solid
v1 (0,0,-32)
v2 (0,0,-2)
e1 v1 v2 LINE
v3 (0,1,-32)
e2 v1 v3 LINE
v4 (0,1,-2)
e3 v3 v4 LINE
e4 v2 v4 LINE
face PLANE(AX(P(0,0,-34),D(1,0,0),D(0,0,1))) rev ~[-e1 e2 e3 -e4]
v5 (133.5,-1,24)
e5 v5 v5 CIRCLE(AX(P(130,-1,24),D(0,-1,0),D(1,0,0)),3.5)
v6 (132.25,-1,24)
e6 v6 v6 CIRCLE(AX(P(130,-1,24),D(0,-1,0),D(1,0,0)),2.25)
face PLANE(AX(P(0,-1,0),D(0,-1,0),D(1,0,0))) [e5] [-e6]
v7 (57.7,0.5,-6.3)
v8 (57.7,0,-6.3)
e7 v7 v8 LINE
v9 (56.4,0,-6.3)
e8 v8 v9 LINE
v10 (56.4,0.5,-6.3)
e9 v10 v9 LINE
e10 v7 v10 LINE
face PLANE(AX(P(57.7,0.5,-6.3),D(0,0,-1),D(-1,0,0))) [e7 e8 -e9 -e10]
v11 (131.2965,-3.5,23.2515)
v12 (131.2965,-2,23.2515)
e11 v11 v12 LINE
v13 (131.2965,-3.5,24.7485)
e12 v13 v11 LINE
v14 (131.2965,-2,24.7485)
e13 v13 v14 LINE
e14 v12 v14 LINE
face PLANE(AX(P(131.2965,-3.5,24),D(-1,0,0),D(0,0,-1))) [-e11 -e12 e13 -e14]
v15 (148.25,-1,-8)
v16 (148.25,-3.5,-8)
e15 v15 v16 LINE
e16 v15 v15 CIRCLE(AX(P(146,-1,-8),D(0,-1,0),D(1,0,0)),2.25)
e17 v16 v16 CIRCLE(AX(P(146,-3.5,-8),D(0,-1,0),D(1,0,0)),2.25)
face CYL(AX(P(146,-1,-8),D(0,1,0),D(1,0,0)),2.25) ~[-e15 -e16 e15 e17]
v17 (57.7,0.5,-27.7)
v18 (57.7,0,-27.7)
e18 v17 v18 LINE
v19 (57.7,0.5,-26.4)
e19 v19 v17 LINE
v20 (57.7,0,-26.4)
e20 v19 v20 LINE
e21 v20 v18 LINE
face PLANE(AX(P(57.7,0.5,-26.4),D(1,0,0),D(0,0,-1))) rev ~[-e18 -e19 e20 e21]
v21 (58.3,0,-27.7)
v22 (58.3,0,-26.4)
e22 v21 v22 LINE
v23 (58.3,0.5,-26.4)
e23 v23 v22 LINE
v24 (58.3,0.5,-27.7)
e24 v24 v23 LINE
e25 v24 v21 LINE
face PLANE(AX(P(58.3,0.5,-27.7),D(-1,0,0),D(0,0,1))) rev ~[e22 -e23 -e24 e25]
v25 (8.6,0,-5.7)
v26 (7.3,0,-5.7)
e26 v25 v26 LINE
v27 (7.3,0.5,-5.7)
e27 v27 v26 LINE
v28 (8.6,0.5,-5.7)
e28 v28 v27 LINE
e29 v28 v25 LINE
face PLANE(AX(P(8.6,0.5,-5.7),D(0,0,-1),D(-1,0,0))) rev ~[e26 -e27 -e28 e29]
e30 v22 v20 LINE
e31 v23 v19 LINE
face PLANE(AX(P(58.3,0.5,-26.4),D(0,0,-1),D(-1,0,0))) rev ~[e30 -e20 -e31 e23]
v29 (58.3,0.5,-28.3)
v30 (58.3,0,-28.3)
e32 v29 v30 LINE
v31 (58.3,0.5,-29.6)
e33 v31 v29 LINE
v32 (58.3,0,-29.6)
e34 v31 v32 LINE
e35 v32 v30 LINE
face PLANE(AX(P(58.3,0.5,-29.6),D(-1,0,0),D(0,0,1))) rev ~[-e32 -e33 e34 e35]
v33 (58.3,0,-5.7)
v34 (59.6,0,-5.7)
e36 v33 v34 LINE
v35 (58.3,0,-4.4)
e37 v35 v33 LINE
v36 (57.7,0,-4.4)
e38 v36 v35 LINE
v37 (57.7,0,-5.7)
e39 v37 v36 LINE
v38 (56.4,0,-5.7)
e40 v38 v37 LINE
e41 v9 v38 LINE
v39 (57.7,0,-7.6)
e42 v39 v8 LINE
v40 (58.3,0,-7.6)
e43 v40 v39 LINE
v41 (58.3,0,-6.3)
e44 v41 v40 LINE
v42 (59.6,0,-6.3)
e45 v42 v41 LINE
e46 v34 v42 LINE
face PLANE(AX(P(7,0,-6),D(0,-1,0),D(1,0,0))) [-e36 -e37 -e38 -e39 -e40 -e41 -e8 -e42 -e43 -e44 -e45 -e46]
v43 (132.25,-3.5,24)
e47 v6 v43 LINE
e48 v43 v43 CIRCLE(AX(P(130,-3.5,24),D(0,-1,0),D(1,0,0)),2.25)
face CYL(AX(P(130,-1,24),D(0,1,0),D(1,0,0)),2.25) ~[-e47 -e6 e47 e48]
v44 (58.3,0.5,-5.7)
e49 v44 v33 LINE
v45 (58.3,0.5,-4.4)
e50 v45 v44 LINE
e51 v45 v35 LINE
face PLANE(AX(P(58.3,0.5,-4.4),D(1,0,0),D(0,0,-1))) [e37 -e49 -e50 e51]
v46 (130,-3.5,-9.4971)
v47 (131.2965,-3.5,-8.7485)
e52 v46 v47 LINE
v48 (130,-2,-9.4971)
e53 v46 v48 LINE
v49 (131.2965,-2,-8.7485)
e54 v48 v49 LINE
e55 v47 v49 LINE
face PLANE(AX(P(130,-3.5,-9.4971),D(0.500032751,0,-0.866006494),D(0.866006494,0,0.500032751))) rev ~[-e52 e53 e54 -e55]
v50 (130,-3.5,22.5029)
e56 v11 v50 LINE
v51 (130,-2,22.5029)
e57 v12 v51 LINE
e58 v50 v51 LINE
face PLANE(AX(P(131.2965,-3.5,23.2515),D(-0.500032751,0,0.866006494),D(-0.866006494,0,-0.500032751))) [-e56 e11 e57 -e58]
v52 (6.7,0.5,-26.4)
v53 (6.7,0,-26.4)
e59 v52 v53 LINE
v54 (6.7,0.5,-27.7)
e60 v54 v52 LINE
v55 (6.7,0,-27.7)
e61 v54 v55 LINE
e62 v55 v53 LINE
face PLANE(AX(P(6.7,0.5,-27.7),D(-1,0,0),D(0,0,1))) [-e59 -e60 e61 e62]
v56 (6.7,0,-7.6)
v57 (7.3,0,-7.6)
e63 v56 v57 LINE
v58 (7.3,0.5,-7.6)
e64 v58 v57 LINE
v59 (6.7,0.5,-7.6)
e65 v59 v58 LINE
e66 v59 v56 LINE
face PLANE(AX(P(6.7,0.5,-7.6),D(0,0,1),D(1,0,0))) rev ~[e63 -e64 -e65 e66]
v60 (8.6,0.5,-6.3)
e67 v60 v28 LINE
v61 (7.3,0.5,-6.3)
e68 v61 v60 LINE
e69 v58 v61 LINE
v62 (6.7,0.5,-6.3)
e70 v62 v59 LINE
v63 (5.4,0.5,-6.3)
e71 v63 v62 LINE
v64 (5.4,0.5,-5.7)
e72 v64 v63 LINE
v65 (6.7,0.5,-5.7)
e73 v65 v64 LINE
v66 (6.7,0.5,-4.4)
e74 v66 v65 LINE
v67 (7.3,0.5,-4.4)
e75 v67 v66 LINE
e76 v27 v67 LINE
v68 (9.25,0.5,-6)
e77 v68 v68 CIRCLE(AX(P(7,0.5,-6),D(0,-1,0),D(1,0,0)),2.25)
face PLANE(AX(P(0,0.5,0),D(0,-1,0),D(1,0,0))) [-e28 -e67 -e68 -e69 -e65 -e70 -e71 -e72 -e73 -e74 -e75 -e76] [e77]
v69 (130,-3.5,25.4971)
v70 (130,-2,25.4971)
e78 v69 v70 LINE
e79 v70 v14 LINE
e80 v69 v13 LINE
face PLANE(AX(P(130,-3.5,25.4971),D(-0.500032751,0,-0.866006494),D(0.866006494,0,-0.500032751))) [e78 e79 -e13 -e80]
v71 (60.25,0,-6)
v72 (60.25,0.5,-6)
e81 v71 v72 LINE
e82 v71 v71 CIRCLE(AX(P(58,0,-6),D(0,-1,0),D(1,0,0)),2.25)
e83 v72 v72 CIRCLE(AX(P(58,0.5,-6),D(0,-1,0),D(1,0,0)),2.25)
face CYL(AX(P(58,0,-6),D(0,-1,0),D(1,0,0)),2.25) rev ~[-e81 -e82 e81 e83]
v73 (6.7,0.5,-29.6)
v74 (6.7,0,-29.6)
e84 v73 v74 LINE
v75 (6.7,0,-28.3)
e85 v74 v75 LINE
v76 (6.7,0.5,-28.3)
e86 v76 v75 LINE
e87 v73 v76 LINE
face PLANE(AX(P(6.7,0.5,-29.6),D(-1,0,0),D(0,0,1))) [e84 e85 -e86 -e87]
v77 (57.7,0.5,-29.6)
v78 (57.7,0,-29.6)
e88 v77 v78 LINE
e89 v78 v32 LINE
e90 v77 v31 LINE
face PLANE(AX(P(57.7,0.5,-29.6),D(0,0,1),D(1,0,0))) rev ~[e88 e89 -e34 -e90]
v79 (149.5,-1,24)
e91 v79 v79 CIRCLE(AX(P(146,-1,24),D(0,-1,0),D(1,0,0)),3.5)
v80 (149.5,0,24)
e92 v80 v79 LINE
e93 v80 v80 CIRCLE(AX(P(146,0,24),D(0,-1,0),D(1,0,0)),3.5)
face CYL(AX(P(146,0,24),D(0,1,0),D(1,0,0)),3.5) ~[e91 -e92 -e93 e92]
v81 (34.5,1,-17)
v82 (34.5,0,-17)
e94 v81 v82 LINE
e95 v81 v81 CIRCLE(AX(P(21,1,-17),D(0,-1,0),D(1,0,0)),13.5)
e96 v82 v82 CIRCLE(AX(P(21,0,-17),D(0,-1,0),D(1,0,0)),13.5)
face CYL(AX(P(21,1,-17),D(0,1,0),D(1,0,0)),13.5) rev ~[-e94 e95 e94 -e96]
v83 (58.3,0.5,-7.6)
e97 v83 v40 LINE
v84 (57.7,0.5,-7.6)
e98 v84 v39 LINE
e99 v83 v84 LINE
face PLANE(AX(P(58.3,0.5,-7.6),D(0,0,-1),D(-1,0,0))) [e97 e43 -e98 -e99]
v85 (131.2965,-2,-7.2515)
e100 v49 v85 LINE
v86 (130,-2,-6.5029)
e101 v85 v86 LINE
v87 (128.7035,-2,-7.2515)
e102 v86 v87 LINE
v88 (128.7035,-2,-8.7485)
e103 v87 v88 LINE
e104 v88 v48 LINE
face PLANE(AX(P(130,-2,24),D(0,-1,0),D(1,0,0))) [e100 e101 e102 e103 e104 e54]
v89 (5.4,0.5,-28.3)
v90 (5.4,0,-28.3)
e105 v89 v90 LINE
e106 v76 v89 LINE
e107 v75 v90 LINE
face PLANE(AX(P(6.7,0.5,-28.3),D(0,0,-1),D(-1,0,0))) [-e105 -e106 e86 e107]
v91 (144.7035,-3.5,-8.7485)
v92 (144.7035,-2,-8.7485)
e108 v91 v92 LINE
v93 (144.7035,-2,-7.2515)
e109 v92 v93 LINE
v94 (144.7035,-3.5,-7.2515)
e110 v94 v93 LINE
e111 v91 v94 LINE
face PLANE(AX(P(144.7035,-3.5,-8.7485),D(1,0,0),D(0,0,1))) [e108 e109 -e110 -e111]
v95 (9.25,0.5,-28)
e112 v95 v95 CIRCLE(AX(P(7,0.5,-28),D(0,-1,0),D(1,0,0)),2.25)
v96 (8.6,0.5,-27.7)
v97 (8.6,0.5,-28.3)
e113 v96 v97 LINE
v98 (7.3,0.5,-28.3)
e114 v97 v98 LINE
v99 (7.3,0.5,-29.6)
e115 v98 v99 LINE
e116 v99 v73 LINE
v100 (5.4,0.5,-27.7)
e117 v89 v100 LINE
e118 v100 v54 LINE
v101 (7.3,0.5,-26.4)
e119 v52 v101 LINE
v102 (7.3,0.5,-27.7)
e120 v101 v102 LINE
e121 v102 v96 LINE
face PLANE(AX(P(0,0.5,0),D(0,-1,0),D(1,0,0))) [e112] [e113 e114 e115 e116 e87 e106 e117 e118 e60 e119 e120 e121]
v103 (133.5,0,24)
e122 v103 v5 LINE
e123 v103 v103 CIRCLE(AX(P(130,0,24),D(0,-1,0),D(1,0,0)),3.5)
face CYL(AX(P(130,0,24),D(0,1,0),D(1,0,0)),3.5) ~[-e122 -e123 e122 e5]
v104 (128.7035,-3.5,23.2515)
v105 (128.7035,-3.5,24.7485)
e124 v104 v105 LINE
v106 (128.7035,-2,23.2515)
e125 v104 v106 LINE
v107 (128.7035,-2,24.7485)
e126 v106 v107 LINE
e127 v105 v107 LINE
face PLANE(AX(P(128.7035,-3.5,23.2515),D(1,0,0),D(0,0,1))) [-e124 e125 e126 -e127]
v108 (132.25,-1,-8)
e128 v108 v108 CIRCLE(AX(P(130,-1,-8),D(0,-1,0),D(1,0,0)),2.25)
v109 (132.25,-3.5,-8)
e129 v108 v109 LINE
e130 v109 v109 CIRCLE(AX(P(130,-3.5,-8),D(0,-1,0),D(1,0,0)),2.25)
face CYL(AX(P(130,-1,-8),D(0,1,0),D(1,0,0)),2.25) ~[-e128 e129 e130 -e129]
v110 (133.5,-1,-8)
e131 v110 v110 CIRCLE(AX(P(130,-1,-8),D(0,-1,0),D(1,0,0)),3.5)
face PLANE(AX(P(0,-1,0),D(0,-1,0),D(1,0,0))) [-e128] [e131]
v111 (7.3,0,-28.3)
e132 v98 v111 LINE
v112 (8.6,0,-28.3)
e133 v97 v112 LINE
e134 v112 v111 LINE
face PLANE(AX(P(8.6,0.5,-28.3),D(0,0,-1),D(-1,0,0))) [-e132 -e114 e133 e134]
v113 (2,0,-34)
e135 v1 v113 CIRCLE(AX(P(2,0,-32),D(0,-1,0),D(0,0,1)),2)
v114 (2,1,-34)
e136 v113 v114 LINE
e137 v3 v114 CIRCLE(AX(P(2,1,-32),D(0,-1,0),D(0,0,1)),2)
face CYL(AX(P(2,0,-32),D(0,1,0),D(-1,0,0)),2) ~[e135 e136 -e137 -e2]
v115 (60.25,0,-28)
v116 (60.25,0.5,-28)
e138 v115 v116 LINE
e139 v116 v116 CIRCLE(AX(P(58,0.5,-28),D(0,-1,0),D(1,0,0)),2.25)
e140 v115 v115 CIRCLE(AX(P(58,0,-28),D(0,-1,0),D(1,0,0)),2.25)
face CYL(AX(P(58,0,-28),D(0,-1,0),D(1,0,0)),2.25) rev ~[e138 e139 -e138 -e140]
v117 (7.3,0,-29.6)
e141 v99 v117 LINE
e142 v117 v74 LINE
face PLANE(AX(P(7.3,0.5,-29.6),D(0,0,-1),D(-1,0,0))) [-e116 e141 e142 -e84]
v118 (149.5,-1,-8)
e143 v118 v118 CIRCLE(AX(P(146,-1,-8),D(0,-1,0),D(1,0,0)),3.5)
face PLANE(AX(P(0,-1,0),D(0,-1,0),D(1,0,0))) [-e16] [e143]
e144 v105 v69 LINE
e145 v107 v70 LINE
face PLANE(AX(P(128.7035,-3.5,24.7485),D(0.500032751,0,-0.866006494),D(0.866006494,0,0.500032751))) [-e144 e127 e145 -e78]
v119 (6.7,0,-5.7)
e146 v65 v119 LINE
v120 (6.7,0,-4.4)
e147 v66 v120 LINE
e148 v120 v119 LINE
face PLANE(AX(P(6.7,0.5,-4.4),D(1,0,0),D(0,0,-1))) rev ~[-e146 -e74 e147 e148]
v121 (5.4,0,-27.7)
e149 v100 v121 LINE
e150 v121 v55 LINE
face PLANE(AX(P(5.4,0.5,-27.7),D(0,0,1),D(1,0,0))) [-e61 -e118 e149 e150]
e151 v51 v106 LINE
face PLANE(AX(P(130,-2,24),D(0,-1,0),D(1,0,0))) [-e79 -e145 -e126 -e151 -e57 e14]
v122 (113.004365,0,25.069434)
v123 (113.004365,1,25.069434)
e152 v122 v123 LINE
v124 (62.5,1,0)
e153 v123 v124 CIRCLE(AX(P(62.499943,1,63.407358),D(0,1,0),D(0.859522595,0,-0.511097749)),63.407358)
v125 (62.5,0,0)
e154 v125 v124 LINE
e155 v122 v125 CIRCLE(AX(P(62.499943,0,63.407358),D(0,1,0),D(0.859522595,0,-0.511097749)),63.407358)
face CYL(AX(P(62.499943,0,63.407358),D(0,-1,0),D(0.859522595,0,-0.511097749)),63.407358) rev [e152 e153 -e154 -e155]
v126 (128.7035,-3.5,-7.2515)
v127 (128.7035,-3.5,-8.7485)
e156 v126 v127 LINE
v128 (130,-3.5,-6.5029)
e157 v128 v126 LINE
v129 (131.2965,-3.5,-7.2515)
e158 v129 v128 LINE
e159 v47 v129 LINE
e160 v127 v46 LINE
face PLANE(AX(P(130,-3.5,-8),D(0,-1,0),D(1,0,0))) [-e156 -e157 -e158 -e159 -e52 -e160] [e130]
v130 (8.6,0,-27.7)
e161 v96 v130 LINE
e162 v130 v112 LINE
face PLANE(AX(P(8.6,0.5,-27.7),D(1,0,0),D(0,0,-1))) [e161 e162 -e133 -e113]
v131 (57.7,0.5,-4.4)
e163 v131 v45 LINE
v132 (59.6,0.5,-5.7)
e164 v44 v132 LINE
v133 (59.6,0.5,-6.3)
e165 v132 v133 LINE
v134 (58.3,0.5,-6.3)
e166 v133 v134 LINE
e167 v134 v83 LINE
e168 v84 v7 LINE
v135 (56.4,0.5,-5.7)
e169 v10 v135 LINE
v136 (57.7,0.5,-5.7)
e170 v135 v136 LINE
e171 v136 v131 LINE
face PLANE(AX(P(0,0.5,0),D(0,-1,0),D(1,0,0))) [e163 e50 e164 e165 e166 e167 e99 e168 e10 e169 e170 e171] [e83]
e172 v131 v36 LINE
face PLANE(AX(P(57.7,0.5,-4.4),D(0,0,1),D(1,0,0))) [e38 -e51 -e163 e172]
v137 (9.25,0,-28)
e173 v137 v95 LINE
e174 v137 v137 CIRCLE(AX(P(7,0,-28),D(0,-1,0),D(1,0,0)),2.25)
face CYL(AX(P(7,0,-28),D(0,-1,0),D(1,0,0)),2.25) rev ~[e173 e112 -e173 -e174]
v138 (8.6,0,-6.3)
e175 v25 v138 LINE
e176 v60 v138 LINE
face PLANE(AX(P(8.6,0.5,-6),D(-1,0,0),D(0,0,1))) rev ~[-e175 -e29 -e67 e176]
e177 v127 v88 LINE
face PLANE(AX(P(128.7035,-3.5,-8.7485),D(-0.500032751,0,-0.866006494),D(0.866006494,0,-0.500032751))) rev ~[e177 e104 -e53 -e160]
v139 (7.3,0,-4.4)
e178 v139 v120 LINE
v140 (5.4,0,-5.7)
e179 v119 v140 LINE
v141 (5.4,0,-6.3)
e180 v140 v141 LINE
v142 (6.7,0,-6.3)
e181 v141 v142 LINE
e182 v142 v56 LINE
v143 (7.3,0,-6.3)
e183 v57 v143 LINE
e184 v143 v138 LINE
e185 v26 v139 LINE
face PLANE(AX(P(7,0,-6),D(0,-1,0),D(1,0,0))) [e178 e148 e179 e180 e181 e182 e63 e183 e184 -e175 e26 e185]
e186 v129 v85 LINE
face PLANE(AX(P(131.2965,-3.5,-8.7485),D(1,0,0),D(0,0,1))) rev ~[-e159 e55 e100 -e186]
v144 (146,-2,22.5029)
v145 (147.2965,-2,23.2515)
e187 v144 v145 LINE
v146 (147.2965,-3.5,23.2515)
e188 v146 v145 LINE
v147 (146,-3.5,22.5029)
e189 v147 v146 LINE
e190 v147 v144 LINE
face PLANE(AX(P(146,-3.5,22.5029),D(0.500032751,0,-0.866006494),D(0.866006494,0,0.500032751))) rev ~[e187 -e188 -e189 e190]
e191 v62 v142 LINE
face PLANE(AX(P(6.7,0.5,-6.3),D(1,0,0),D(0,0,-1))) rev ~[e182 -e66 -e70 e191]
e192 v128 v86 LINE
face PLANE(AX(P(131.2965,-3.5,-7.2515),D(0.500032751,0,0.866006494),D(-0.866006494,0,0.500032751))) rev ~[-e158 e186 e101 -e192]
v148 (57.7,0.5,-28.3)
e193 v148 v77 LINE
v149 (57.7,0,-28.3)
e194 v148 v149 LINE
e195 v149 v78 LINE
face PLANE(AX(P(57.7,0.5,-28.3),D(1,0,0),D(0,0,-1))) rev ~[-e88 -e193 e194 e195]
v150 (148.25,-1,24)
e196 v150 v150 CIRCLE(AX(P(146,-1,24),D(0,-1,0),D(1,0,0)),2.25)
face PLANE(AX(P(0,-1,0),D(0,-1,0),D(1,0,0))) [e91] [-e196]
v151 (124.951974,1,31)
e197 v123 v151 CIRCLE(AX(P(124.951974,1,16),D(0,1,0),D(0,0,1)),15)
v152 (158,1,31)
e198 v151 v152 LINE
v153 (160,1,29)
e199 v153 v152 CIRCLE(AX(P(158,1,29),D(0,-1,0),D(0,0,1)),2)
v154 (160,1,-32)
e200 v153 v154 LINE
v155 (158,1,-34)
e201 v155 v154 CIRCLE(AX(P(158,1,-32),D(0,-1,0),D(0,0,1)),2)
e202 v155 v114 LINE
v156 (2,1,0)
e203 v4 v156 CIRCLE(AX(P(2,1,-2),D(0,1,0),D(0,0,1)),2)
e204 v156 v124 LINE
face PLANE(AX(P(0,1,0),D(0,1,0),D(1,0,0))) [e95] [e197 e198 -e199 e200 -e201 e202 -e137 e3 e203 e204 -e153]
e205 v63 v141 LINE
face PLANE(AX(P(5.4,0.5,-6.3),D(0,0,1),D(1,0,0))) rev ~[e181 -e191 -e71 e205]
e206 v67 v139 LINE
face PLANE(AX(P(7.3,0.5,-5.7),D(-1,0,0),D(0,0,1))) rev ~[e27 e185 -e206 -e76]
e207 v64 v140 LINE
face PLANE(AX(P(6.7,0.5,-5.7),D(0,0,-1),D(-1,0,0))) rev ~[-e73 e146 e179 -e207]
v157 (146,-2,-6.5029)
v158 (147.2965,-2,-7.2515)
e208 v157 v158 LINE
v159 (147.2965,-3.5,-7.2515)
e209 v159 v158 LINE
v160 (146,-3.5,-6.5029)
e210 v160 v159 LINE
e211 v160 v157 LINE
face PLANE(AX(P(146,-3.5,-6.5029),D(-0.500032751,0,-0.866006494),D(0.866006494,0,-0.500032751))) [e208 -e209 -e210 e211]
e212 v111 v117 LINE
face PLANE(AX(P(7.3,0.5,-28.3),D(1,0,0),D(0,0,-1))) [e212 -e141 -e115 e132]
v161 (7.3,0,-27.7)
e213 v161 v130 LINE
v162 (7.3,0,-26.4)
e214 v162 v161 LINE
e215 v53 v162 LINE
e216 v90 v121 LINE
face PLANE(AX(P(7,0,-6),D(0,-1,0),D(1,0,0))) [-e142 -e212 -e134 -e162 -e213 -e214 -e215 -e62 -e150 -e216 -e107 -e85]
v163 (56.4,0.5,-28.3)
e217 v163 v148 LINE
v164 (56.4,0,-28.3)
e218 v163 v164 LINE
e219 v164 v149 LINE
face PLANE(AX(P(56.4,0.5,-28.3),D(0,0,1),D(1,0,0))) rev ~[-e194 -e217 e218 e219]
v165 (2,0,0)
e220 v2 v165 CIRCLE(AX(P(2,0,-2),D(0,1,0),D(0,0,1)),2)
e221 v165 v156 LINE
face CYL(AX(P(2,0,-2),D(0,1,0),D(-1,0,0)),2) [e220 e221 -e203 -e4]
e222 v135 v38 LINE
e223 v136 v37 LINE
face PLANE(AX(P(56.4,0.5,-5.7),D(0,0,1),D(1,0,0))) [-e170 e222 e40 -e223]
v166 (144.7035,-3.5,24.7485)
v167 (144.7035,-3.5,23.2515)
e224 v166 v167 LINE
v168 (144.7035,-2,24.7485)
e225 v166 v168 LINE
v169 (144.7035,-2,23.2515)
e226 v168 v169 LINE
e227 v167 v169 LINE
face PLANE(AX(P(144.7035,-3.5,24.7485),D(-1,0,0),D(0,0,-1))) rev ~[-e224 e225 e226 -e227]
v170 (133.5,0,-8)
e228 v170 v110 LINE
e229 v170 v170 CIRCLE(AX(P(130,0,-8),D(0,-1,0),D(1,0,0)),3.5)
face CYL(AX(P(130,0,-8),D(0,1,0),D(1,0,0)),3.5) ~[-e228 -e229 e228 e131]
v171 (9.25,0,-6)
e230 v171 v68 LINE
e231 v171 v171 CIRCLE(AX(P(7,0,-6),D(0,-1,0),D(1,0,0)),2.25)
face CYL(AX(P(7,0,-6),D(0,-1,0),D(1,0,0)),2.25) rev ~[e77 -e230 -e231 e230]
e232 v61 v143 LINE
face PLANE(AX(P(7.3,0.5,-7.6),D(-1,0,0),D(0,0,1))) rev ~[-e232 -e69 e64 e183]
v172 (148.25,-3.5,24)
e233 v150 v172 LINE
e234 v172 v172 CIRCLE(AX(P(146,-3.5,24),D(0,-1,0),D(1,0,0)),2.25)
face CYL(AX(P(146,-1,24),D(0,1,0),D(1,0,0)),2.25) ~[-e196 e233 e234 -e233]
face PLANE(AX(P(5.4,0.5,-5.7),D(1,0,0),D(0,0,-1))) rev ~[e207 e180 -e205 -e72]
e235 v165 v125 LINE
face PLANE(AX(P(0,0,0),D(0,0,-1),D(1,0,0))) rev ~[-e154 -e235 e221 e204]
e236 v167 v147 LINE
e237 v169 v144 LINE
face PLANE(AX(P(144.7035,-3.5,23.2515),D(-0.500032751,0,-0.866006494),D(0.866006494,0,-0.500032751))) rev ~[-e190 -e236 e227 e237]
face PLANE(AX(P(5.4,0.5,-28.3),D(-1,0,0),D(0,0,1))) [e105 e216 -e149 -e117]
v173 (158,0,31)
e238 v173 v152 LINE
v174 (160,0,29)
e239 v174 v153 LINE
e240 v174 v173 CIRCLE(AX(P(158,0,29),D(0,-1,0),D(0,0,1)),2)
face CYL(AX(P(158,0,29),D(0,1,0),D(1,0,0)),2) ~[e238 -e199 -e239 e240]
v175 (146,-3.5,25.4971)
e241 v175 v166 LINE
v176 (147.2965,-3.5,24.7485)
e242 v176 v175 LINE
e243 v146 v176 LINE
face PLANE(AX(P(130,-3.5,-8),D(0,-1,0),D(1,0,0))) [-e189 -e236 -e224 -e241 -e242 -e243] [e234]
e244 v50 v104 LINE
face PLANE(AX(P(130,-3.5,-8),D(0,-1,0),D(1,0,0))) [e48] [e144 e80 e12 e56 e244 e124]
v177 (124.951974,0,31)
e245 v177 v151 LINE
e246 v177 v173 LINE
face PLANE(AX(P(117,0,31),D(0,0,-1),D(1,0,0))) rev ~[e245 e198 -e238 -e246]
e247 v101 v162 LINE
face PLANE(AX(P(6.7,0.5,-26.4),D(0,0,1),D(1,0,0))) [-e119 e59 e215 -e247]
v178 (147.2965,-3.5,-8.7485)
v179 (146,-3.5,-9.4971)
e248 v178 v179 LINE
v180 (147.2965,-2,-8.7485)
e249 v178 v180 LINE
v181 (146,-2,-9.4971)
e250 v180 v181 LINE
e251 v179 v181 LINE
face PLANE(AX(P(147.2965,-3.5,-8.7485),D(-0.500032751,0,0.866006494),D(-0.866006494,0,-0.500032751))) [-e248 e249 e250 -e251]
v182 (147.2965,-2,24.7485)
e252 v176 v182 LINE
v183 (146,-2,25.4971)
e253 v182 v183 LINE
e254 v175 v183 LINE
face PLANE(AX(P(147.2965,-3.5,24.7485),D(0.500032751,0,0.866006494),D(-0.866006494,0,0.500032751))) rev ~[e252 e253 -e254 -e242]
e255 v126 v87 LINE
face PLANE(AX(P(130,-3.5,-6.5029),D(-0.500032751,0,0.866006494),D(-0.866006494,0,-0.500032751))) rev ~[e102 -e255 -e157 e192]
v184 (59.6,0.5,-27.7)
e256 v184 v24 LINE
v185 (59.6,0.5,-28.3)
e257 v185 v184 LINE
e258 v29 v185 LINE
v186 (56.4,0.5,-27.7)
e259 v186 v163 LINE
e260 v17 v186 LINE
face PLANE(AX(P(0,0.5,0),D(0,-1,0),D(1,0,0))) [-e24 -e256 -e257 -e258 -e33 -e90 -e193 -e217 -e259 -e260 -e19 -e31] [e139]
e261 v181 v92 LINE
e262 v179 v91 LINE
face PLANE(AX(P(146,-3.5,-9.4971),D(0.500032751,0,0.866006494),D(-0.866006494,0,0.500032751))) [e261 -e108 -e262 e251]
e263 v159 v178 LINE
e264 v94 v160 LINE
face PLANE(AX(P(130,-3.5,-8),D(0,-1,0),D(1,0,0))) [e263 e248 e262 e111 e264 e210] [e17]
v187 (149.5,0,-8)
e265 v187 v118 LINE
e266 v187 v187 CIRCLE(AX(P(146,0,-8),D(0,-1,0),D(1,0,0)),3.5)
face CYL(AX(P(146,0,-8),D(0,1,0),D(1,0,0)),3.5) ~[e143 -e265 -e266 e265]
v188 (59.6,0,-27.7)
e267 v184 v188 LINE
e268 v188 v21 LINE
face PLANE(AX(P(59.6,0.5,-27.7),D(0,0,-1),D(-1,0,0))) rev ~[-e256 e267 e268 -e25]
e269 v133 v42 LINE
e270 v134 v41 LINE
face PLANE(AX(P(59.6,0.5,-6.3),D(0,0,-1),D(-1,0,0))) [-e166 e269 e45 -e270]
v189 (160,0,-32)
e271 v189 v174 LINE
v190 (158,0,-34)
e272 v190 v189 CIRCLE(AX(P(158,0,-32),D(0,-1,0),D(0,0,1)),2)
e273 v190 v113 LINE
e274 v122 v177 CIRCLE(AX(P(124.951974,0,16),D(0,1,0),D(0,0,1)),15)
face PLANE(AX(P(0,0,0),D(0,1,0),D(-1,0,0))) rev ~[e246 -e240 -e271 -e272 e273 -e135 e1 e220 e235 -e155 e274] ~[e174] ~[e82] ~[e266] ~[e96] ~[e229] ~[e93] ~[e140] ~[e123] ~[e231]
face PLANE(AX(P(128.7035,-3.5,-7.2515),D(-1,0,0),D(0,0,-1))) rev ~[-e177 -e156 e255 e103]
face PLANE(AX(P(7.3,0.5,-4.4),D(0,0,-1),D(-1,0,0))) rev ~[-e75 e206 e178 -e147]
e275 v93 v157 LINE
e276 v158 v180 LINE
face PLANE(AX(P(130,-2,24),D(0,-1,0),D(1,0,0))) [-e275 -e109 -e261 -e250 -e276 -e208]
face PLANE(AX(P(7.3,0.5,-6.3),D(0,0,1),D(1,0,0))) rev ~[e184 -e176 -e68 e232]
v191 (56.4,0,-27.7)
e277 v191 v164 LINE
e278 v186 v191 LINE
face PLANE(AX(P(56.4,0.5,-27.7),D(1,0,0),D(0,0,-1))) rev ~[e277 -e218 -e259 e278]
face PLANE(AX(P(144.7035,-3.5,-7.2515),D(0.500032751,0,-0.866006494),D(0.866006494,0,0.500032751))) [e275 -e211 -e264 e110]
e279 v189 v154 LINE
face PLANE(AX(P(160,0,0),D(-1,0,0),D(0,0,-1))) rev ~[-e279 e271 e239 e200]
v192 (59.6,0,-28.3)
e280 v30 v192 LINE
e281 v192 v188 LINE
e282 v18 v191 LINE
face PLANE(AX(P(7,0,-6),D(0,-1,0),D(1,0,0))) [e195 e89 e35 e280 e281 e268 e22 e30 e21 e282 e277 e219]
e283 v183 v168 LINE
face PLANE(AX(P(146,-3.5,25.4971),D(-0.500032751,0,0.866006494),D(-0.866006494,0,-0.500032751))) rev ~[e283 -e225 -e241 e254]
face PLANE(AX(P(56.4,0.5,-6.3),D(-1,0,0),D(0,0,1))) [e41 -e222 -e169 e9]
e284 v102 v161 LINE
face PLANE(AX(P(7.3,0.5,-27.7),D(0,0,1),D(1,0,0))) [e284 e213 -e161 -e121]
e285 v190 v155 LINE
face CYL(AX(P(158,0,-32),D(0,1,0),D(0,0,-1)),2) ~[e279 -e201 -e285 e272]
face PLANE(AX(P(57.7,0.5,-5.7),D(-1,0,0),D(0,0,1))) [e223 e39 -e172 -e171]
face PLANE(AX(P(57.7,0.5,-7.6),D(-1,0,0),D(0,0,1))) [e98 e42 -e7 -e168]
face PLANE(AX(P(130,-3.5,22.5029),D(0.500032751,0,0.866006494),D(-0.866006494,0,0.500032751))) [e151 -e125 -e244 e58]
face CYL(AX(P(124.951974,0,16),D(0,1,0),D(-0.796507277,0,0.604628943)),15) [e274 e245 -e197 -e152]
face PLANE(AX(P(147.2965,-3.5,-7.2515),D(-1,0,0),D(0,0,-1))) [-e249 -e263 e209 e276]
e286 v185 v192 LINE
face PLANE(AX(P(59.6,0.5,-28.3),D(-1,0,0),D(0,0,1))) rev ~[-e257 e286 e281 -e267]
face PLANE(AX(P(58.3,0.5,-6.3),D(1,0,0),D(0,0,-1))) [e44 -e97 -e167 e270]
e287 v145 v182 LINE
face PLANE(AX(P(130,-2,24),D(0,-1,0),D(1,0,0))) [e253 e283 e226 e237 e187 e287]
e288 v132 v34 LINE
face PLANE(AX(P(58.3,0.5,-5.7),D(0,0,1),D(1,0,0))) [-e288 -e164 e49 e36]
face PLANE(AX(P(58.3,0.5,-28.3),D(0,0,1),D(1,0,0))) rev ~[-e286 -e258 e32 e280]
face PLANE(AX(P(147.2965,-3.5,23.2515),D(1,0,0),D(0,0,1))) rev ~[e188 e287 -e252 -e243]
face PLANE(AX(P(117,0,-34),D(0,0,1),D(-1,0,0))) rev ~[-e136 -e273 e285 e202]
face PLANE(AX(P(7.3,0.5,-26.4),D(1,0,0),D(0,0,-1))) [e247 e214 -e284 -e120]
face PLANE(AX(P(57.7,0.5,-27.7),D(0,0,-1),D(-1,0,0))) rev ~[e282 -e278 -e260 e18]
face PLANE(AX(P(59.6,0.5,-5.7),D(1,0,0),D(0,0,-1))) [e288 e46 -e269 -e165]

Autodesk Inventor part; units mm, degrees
ref_plane "YZ Plane" through (0, 0, 0) normal (1, 0, 0) x (0, 1, 0)
ref_plane "XZ Plane" through (0, 0, 0) normal (0, 1, 0) x (-1, 0, 0)
ref_plane "XY Plane" through (0, 0, 0) normal (0, 0, 1) x (1, 0, 0)
sketch "Esboço1" plane through (0, 0, 0) normal (0, 1, 0) x (-1, 0, 0)
  line L0 (0, 0) -> (-160, 0)
  line L1 (-160, 0) -> (-160, -34)
  line L2 (-160, -34) -> (0, -34)
  line L3 (0, -34) -> (0, 0)
  line L4 (0, 0) -> (-4, 0)
  line L5 (-4, 0) -> (-62.5, 0)
  line L6 (-160, -34) -> (-160, 31)
  line L7 (-160, -34) -> (-117, -34)
  line L8 (-117, -34) -> (-117, 31)
  line L9 (-117, 31) -> (-160, 31)
  line L10 (-160, 31) -> (-160, -34)
  arc A0 (-117, 31) -> (-62.5, 0) centre (-62.5, 63.4073) ccw
  dimension "d0" = 160
  dimension "d1" = 34
  dimension "d2" = 4
  dimension "d3" = 58.5
  dimension "d4" = 65
  dimension "d5" = 43
extrude "Extrusão1" add sketch "Esboço1" along normal blind 1
fillet "Arredondamento1" radius 2 4 edges at (160, 0.5, 31) (160, 0.5, -34) (0, 0.5, 0) (0, 0.5, -34)
fillet "Arredondamento2" radius 15 1 edges at (117, 0.5, 31)
sketch "Esboço5" plane through (0, 1, 0) normal (0, 1, 0) x (1, 0, 0)
  line L0 (160, -29) -> (160, 32) projected
  line L1 (160, -21.1735) -> (160, -7.1735)
  line L2 (160, -21.1735) -> (146, -21.1735)
  line L3 (124.952, -31) -> (158, -31) projected
  line L4 (146, -31) -> (139, -31)
  line L5 (146, -31) -> (146, -24)
  circle A0 centre (146, -24) radius 3.5
  line L6 (146, -24) -> (130, -24)
  circle A1 centre (130, -24) radius 3.5
  line L7 (146, -24) -> (146, 8)
  circle A2 centre (146, 8) radius 3.5
  line L8 (146, 8) -> (130, 8)
  circle A3 centre (130, 8) radius 3.5
  point P0 (0, 0)
  dimension "d32" = 14
  dimension "d33" = 14
  dimension "d34" = 7
  dimension "d35" = 7
  dimension "d36" = 7
  dimension "d37" = 16
  dimension "d38" = 7
  dimension "d39" = 32
  dimension "d40" = 7
  dimension "d41" = 7
extrude "Extrusão3" add sketch "Esboço5" along normal blind 1
sketch "Esboço6" plane through (130, 2, -8) normal (0, 1, 0) x (1, 0, 0)
  circle A0 centre (0, 0) radius 2.25
  circle A1 centre (16, 0) radius 3.5 projected
  circle A2 centre (16, 0) radius 2.25
  circle A3 centre (0, -32) radius 3.5 projected
  circle A4 centre (0, -32) radius 2.25
  circle A5 centre (16, -32) radius 3.5 projected
  circle A6 centre (16, -32) radius 2.25
  point P0 (-130, -8)
  dimension "d44" = 4.5
  dimension "d45" = 4.5
  dimension "d46" = 4.5
  dimension "d47" = 4.5
extrude "Extrusão4" add sketch "Esboço6" along normal blind 2.5 contours A0 | A2 | A4 | A6
sketch "Esboço7" plane through (130, 4.5, -8) normal (0, 1, 0) x (1, 0, 0)
  circle A0 centre (0, 0) radius 2.25 projected
  line L0 (-0.7066, -1.2286) -> (-1.4173, -0.0023)
  line L1 (-1.4173, -0.0023) -> (-0.7107, 1.2262)
  line L2 (-0.7107, 1.2262) -> (0.7066, 1.2286)
  line L3 (0.7066, 1.2286) -> (1.4173, 0.0023)
  line L4 (1.4173, 0.0023) -> (0.7107, -1.2262)
  line L5 (0.7107, -1.2262) -> (-0.7066, -1.2286)
  line L6 (0, 0) -> (8, 0)
  line L7 (8, 0) -> (8, -3.5397)
  circle A1 centre (16, 0) radius 2.25
  line L8 (16.7066, -1.2286) -> (17.4173, -0.0023)
  line L9 (17.4173, -0.0023) -> (16.7107, 1.2262)
  line L10 (16.7107, 1.2262) -> (15.2934, 1.2286)
  line L11 (15.2934, 1.2286) -> (14.5827, 0.0023)
  line L12 (14.5827, 0.0023) -> (15.2893, -1.2262)
  line L13 (15.2893, -1.2262) -> (16.7066, -1.2286)
  line L14 (0, 0) -> (0, -16)
  line L15 (0, -16) -> (6.7888, -16)
  circle A2 centre (0, -32) radius 2.25
  line L16 (-0.7066, -30.7714) -> (-1.4173, -31.9977)
  line L17 (-1.4173, -31.9977) -> (-0.7107, -33.2262)
  line L18 (-0.7107, -33.2262) -> (0.7066, -33.2286)
  line L19 (0.7066, -33.2286) -> (1.4173, -32.0023)
  line L20 (1.4173, -32.0023) -> (0.7107, -30.7738)
  line L21 (0.7107, -30.7738) -> (-0.7066, -30.7714)
  circle A3 centre (16, -32) radius 2.25
  line L22 (16.7066, -30.7714) -> (17.4173, -31.9977)
  line L23 (17.4173, -31.9977) -> (16.7107, -33.2262)
  line L24 (16.7107, -33.2262) -> (15.2934, -33.2286)
  line L25 (15.2934, -33.2286) -> (14.5827, -32.0023)
  line L26 (14.5827, -32.0023) -> (15.2893, -30.7738)
  line L27 (15.2893, -30.7738) -> (16.7066, -30.7714)
  point P0 (-130, -8)
  dimension "d50" = 8
  dimension "d51" = 16
extrude "Extrusão5" cut sketch "Esboço7" against normal blind 1.5 contours L6 L14 L5 L0 L1 L2 L3 L4 | L4 L5 L14 L6 | L13 L12 L11 L10 L9 L8 | L21 L20 L19 L18 L17 L16 | L22 L23 L24 L25 L26 L27
sketch "Esboço8" plane through (0, 1, 0) normal (0, 1, 0) x (1, 0, 0)
  line L0 (0, 0) -> (6, 0)
  line L1 (2, 0) -> (62.5, 0) projected
  line L2 (6, 0) -> (-1.5, 0)
  line L3 (6, 0) -> (6, 7.5)
  circle A0 centre (6, 7.5) radius 2.25
  line L4 (0, 32) -> (0, 2) projected
  line L5 (0, 17) -> (13.7618, 17)
  circle A1 centre (6, 26.5) radius 2.25
  dimension "d54" = 6
  dimension "d55" = 7.5
  dimension "d56" = 7.5
  dimension "d57" = 4.5
extrude "Extrusão6" cut sketch "Esboço8" against normal blind 0.1
sketch "Esboço9" plane through (6, 0.9, -26.5) normal (0, 1, 0) x (1, 0, 0)
  circle A0 centre (0, -19) radius 2.25 projected
  line L0 (0, -19) -> (0.25, -19)
  line L1 (0.25, -19) -> (0.25, -20.5)
  line L2 (0.25, -20.5) -> (0, -20.5)
  line L3 (0, -20.5) -> (0, -19)
  line L4 (0, -20.5) -> (-0.25, -20.5)
  line L5 (-0.25, -20.5) -> (-0.25, -19)
  line L6 (-0.25, -19) -> (0, -19)
  line L7 (0, -19) -> (0, -20.5)
  line L8 (0.25, -20.5) -> (-0.25, -20.5)
  line L9 (-0.25, -20.5) -> (-0.25, -17.5)
  line L10 (-0.25, -17.5) -> (0.25, -17.5)
  line L11 (0.25, -17.5) -> (0.25, -20.5)
  line L12 (0, -19) -> (1.5, -19)
  line L13 (1.5, -19) -> (1.5, -18.75)
  line L14 (1.5, -18.75) -> (0, -18.75)
  line L15 (0, -18.75) -> (0, -19)
  line L16 (1.5, -18.75) -> (-1.5, -18.75)
  line L17 (-1.5, -18.75) -> (-1.5, -19.25)
  line L18 (-1.5, -19.25) -> (1.5, -19.25)
  line L19 (1.5, -19.25) -> (1.5, -18.75)
  line L20 (-6, 5.5) -> (-6, -24.5) projected
  line L21 (-6, -9.5) -> (4.7143, -9.5)
  line L22 (0, 0) -> (0.25, 0)
  line L23 (0.25, 0) -> (0.25, 1.5)
  line L24 (0.25, 1.5) -> (0, 1.5)
  line L25 (0, 1.5) -> (0, 0)
  line L26 (0, 1.5) -> (-0.25, 1.5)
  line L27 (-0.25, 1.5) -> (-0.25, 0)
  line L28 (-0.25, 0) -> (0, 0)
  line L29 (0, 0) -> (0, 1.5)
  line L30 (0.25, 1.5) -> (-0.25, 1.5)
  line L31 (-0.25, 1.5) -> (-0.25, -1.5)
  line L32 (-0.25, -1.5) -> (0.25, -1.5)
  line L33 (0.25, -1.5) -> (0.25, 1.5)
  line L34 (0, 0) -> (1.5, 0)
  line L35 (1.5, 0) -> (1.5, -0.25)
  line L36 (1.5, -0.25) -> (0, -0.25)
  line L37 (0, -0.25) -> (0, 0)
  line L38 (1.5, -0.25) -> (-1.5, -0.25)
  line L39 (-1.5, -0.25) -> (-1.5, 0.25)
  line L40 (-1.5, 0.25) -> (1.5, 0.25)
  line L41 (1.5, 0.25) -> (1.5, -0.25)
  point P0 (-6, -26.5)
  point P1 (-0.25, -19.25)
  point P2 (0.25, -19.25)
  point P3 (0.25, -18.75)
  point P4 (-0.25, -18.75)
  point P5 (0.25, 0.25)
  point P6 (-0.25, 0.25)
  point P7 (-0.25, -0.25)
  point P8 (0.25, -0.25)
  dimension "d60" = 0.25
  dimension "d61" = 1.5
  dimension "d62" = 0.25
  dimension "d63" = 3
  dimension "d64" = 1.5
  dimension "d65" = 0.25
  dimension "d66" = 3
  dimension "d67" = 0.5
extrude "Extrusão7" cut sketch "Esboço9" against normal blind 0.1 contours L15 L14 L11 L0 | L0 L1 L18 L3 | L3 L18 L5 L6 | L6 L9 L16 L15 | L12 L19 L18 L1 | L11 L14 L13 L12 | L18 L1 L2 L3 | L3 L4 L5 L18 | L5 L18 L17 L16 L9 | L16 L9 L10 L11 L14 | L25 L40 L23 L22 | L28 L27 L40 L25 | L37 L38 L31 L28 | L22 L33 L36 L37 | L34 L35 L36 L33 | L23 L40 L41 L34 | L40 L27 L26 L25 | L25 L24 L23 L40 | L31 L38 L39 L40 L27 | L36 L33 L32 L31 L38
sketch "Esboço10" plane through (6, 0.9, -26.5) normal (0, 1, 0) x (1, 0, 0)
  line L0 (0, 0) -> (52, 0)
  circle A0 centre (52, 0) radius 2.25
  circle A1 centre (0, -19) radius 2.25 projected
  line L1 (0, -19) -> (52, -19)
  circle A2 centre (52, -19) radius 2.25
  point P0 (-6, -26.5)
  dimension "d70" = 52
  dimension "d71" = 4.5
  dimension "d72" = 52
  dimension "d73" = 4.5
extrude "Extrusão8" cut sketch "Esboço10" along normal blind 2 contours A0 | A2
sketch "Esboço11" plane through (58, 0.9, -26.5) normal (0, 1, 0) x (1, 0, 0)
  line L0 (0, 0) -> (0.25, 0)
  line L1 (0.25, 0) -> (0.25, 1.5)
  line L2 (0.25, 1.5) -> (0, 1.5)
  line L3 (0, 1.5) -> (0, 0)
  line L4 (0.25, 1.5) -> (-0.25, 1.5)
  line L5 (-0.25, 1.5) -> (-0.25, -1.5)
  line L6 (-0.25, -1.5) -> (0.25, -1.5)
  line L7 (0.25, -1.5) -> (0.25, 1.5)
  line L8 (0, 0) -> (1.5, 0)
  line L9 (1.5, 0) -> (1.5, 0.25)
  line L10 (1.5, 0.25) -> (0, 0.25)
  line L11 (0, 0.25) -> (0, 0)
  line L12 (1.5, 0.25) -> (-1.5, 0.25)
  line L13 (-1.5, 0.25) -> (-1.5, -0.25)
  line L14 (-1.5, -0.25) -> (1.5, -0.25)
  line L15 (1.5, -0.25) -> (1.5, 0.25)
  line L16 (-58, 5.5) -> (-58, -24.5) projected
  line L17 (-58, -9.5) -> (-46.2393, -9.5)
  line L18 (0, -19) -> (0.25, -19)
  line L19 (0.25, -19) -> (0.25, -20.5)
  line L20 (0.25, -20.5) -> (0, -20.5)
  line L21 (0, -20.5) -> (0, -19)
  line L22 (0.25, -20.5) -> (-0.25, -20.5)
  line L23 (-0.25, -20.5) -> (-0.25, -17.5)
  line L24 (-0.25, -17.5) -> (0.25, -17.5)
  line L25 (0.25, -17.5) -> (0.25, -20.5)
  line L26 (0, -19) -> (1.5, -19)
  line L27 (1.5, -19) -> (1.5, -19.25)
  line L28 (1.5, -19.25) -> (0, -19.25)
  line L29 (0, -19.25) -> (0, -19)
  line L30 (1.5, -19.25) -> (-1.5, -19.25)
  line L31 (-1.5, -19.25) -> (-1.5, -18.75)
  line L32 (-1.5, -18.75) -> (1.5, -18.75)
  line L33 (1.5, -18.75) -> (1.5, -19.25)
  point P0 (-58, -26.5)
  point P1 (0.25, -0.25)
  point P2 (1.5, 0)
  point P3 (0.25, 0.25)
  point P4 (0, 1.5)
  point P5 (-0.25, 0.25)
  point P6 (-0.25, -0.25)
  point P7 (0.25, -19.25)
  point P8 (1.5, -19)
  point P9 (0.25, -18.75)
  point P10 (-0.25, -18.75)
  point P11 (-0.25, -19.25)
  dimension "d76" = 0.25
  dimension "d77" = 1.5
  dimension "d78" = 0.5
  dimension "d79" = 3
  dimension "d80" = 1.5
  dimension "d81" = 0.25
  dimension "d82" = 3
  dimension "d83" = 0.5
extrude "Extrusão9" cut sketch "Esboço11" against normal blind 0.1
sketch "Esboço12" plane through (0, 1, 0) normal (0, 1, 0) x (1, 0, 0)
  line L0 (0, 32) -> (0, 2) projected
  line L1 (0, 17) -> (5, 17)
  line L2 (5, 17) -> (36, 17)
  line L3 (5, 17) -> (20.5, 17)
  circle A0 centre (20.5, 17) radius 13
  point P0 (0, 0)
  dimension "d86" = 5
  dimension "d87" = 31
  dimension "d88" = 15.5
  dimension "d89" = 26
extrude "Extrusão10" cut sketch "Esboço12" against normal blind 10
sketch "Esboço13" plane through (0, 1, 0) normal (0, 1, 0) x (1, 0, 0)
  circle A0 centre (20.5, 17) radius 13 projected
  circle A1 centre (20.5, 17) radius 13
  point P0 (0, 0)
extrude "Extrusão11" add sketch "Esboço13" against normal blind 1
sketch "Esboço14" plane through (0, 1, 0) normal (0, 1, 0) x (1, 0, 0)
  line L0 (0, 32) -> (0, 2) projected
  line L1 (0, 17) -> (4.15, 17)
  line L2 (4.15, 17) -> (15.55, 17)
  line L3 (16.6408, 0) -> (16.6408, 6)
  circle A0 centre (15.55, 17) radius 11.054
  circle A1 centre (6, 7.5) radius 2.25 projected
  circle A2 centre (6, 7.5) radius 2.25
  circle A3 centre (6, 26.5) radius 2.25 projected
  circle A4 centre (6, 26.5) radius 2.25
  point P0 (0, 0)
  dimension "d94" = 4.15
  dimension "d95" = 11.4
  dimension "d97" = 6
extrude "Extrusão12" add sketch "Esboço14" against normal blind 1 contours A1 | A3
sketch "Esboço15" plane through (0, 1, 0) normal (0, 1, 0) x (1, 0, 0)
  circle A0 centre (58, 7.5) radius 2.25 projected
  circle A1 centre (58, 7.5) radius 2.25
  circle A2 centre (58, 26.5) radius 2.25 projected
  circle A3 centre (58, 26.5) radius 2.25
  point P0 (0, 0)
extrude "Extrusão13" add sketch "Esboço15" against normal blind 1
sketch "Esboço16" plane through (0, 1, 0) normal (0, 1, 0) x (1, 0, 0)
  line L0 (0, 0) -> (7, 0)
  line L1 (7, 0) -> (7, 6)
  line L2 (7, 6) -> (0, 6)
  line L3 (0, 6) -> (0, 0)
  circle A0 centre (7, 6) radius 2.25
  line L4 (0, 32) -> (0, 2) projected
  line L5 (0, 17) -> (5.9961, 17)
  line L6 (7, 0) -> (32.5, 0)
  line L7 (2, 0) -> (62.5, 0) projected
  line L8 (32.5, 0) -> (32.5, 15.1049)
  circle A1 centre (7, 28) radius 2.25
  circle A2 centre (58, 6) radius 2.25
  circle A3 centre (58, 28) radius 2.25
  dimension "d102" = 7
  dimension "d103" = 6
  dimension "d104" = 4.5
  dimension "d105" = 25.5
extrude "Extrusão14" cut sketch "Esboço16" against normal blind 1 contours A0 L2 L1 | L1 L2 A0 | A1 | A2 | A3
sketch "Esboço17" plane through (0, 1, 0) normal (0, 1, 0) x (1, 0, 0)
  line L0 (0, 32) -> (0, 2) projected
  line L1 (0, 17) -> (17, 17)
  line L2 (17, 17) -> (21, 17)
  circle A0 centre (21, 17) radius 13.5
  point P0 (0, 0)
  dimension "d108" = 17
  dimension "d109" = 4
  dimension "d110" = 27
extrude "Extrusão15" cut sketch "Esboço17" against normal blind 1
sketch "Esboço18" plane through (0, 0, 0) normal (0, -1, 0) x (1, 0, 0)
  circle A0 centre (58, -6) radius 2.25 projected
  circle A1 centre (58, -6) radius 2.25
  circle A2 centre (58, -28) radius 2.25 projected
  circle A3 centre (58, -28) radius 2.25
  circle A4 centre (7, -28) radius 2.25 projected
  circle A5 centre (7, -28) radius 2.25
  circle A6 centre (7, -6) radius 2.25 projected
  circle A7 centre (7, -6) radius 2.25
  point P0 (0, 0)
extrude "Extrusão16" add sketch "Esboço18" against normal blind 2
sketch "Esboço19" plane through (7, 2, -28) normal (0, 1, 0) x (1, 0, 0)
  circle A0 centre (0, 0) radius 2.25
  circle A1 centre (0, -22) radius 2.25 projected
  circle A2 centre (0, -22) radius 2.25
  circle A3 centre (51, 0) radius 2.25 projected
  circle A4 centre (51, 0) radius 2.25
  circle A5 centre (51, -22) radius 2.25 projected
  circle A6 centre (51, -22) radius 2.25
  point P0 (-7, -28)
extrude "Extrusão17" cut sketch "Esboço19" against normal blind 0.5
sketch "Esboço20" plane through (7, 1.5, -28) normal (0, 1, 0) x (1, 0, 0)
  line L0 (0, 0) -> (0.3, 0)
  line L1 (0.3, 0) -> (0.3, 1.6)
  line L2 (0.3, 1.6) -> (0, 1.6)
  line L3 (0, 1.6) -> (0, 0)
  line L4 (0.3, 0) -> (-0.3, 0)
  line L5 (-0.3, 0) -> (-0.3, 1.6)
  line L6 (-0.3, 1.6) -> (0.3, 1.6)
  line L7 (0.3, 1.6) -> (0.3, 0)
  line L8 (-0.9434, 0) -> (0.9565, 0)
  line L9 (0.3, 0) -> (0.3, -1.6)
  line L10 (-0.3, 0) -> (-0.3, -1.6)
  line L11 (-0.3, -1.6) -> (0.3, -1.6)
  line L12 (-0.3, 0) -> (-0.3, 0.3)
  line L13 (-0.3, 0.3) -> (-1.9, 0.3)
  line L14 (-1.9, 0.3) -> (-1.9, -0.3)
  line L15 (-1.9, -0.3) -> (-0.3, -0.3)
  line L16 (-0.3, -0.3) -> (-0.3, 0.3)
  line L17 (0.3, 0.3) -> (1.9, 0.3)
  line L18 (1.9, 0.3) -> (1.9, -0.3)
  line L19 (1.9, -0.3) -> (0.3, -0.3)
  line L20 (-1.9, -0.3) -> (-1.6, -0.3)
  line L21 (-1.6, -0.3) -> (-1.6, 0.3)
  line L22 (1.6, -0.3) -> (1.6, 0.3)
  line L23 (-7, 4) -> (-7, -26) projected
  line L24 (-7, -11) -> (4.0059, -11)
  line L25 (151, 6) -> (-5, 6) projected
  line L26 (0, 6) -> (25.5, 6)
  line L27 (25.5, 6) -> (25.5, -11)
  line L28 (0.3, -22) -> (0.3, -23.6)
  line L29 (-0.3, -22) -> (-0.3, -23.6)
  line L30 (-0.3, -23.6) -> (0.3, -23.6)
  line L31 (-0.3, -22) -> (-0.3, -20.4)
  line L32 (-0.3, -20.4) -> (0.3, -20.4)
  line L33 (0.3, -22) -> (0.3, -20.4)
  line L34 (-0.3, -22.3) -> (-1.9, -22.3)
  line L35 (-1.9, -21.7) -> (-0.3, -21.7)
  line L36 (0.3, -22.3) -> (1.9, -22.3)
  line L37 (1.9, -21.7) -> (0.3, -21.7)
  line L38 (-1.6, -21.7) -> (-1.6, -22.3)
  line L39 (1.6, -21.7) -> (1.6, -22.3)
  line L40 (51, 0) -> (50.7, 0)
  line L41 (50.7, 0) -> (50.7, 1.6)
  line L42 (50.7, 1.6) -> (51, 1.6)
  line L43 (51, 1.6) -> (51, 0)
  line L44 (50.7, 0) -> (51.3, 0)
  line L45 (51.3, 0) -> (51.3, 1.6)
  line L46 (51.3, 1.6) -> (50.7, 1.6)
  line L47 (50.7, 1.6) -> (50.7, 0)
  line L48 (51.9434, 0) -> (50.0435, 0)
  line L49 (51.3, 0) -> (51.3, -1.6)
  line L50 (51.3, -1.6) -> (50.7, -1.6)
  line L51 (50.7, 0) -> (50.7, -1.6)
  line L52 (51.3, 0) -> (51.3, 0.3)
  line L53 (51.3, 0.3) -> (52.9, 0.3)
  line L54 (52.9, 0.3) -> (52.9, -0.3)
  line L55 (52.9, -0.3) -> (51.3, -0.3)
  line L56 (51.3, -0.3) -> (51.3, 0.3)
  line L57 (50.7, 0.3) -> (49.1, 0.3)
  line L58 (49.1, 0.3) -> (49.1, -0.3)
  line L59 (49.1, -0.3) -> (50.7, -0.3)
  line L60 (52.9, -0.3) -> (52.6, -0.3)
  line L61 (52.6, -0.3) -> (52.6, 0.3)
  line L62 (49.4, -0.3) -> (49.4, 0.3)
  line L63 (51.3, -23.6) -> (50.7, -23.6)
  line L64 (51.3, -22) -> (51.3, -23.6)
  line L65 (50.7, -22) -> (50.7, -23.6)
  line L66 (50.7, -22.3) -> (49.1, -22.3)
  line L67 (49.4, -21.7) -> (49.4, -22.3)
  line L68 (49.1, -21.7) -> (50.7, -21.7)
  line L69 (50.7, -22) -> (50.7, -20.4)
  line L70 (51.3, -22) -> (51.3, -20.4)
  line L71 (52.9, -21.7) -> (51.3, -21.7)
  line L72 (52.6, -21.7) -> (52.6, -22.3)
  line L73 (51.3, -22.3) -> (52.9, -22.3)
  line L74 (51.3, -20.4) -> (50.7, -20.4)
  point P0 (-7, -28)
  point P1 (46.9941, -11)
  point P2 (0.3, -23.6)
  point P3 (0.3, -22.3)
  point P4 (0.3, -21.7)
  point P5 (0.3, -20.4)
  point P6 (-0.3, -21.7)
  point P7 (0.3, 0.3)
  point P8 (0, 1.6)
  point P9 (-0.3, -0.3)
  point P10 (0.3, -1.6)
  point P11 (0.3, -0.3)
  point P12 (1.6, -0.3)
  point P13 (1.6, 0.3)
  point P14 (50.7, -0.3)
  point P15 (50.7, -1.6)
  point P16 (51.3, -0.3)
  point P17 (51, 1.6)
  point P18 (50.7, 0.3)
  point P19 (49.4, 0.3)
  point P20 (49.4, -0.3)
  dimension "d117" = 0.3
  dimension "d118" = 1.6
  dimension "d119" = 0.6
  dimension "d120" = 1.6
  dimension "d121" = 0.3
  dimension "d122" = 1.6
  dimension "d123" = 0.6
  dimension "d124" = 0.3
  dimension "d125" = 25.5
extrude "Extrusão18" cut sketch "Esboço20" against normal blind 0.5 contours L3 L2 L1 L0 | L4 L5 L6 L3 | L0 L9 L11 L10 L4 | L1 L17 L22 L19 L9 | L10 L15 L21 L13 L5 | L33 L37 L39 L36 L28 | L28 L30 L29 L31 L32 L33 | L34 L38 L35 L31 L29 | L44 L49 L50 L51 L40 | L40 L41 L42 L43 | L43 L46 L45 L44 | L51 L59 L62 L57 L41 | L45 L53 L61 L55 L49 | L63 L65 L69 L74 L70 L64 | L64 L70 L71 L72 L73 | L66 L67 L68 L69 L65
sketch "Esboço21" plane through (0, 0, 0) normal (0, -1, 0) x (1, 0, 0)
  point P0 (0, 0)
sketch "Esboço22" plane through (0, 0, 0) normal (0, -1, 0) x (1, 0, 0)
  circle A0 centre (130, -8) radius 2.25 projected
  circle A1 centre (130, -8) radius 3.5
  circle A2 centre (146, -8) radius 3.5 projected
  circle A3 centre (146, -8) radius 3.5
  circle A4 centre (130, 24) radius 3.5 projected
  circle A5 centre (130, 24) radius 3.5
  circle A6 centre (146, 24) radius 3.5 projected
  circle A7 centre (146, 24) radius 3.5
  point P0 (0, 0)
extrude "Extrusão19" add sketch "Esboço22" along normal blind 1 contours A0 | A1 | A2 | A4 | A6
sketch "Esboço23" plane through (130, 4.5, -8) normal (0, 1, 0) x (1, 0, 0)
  circle A0 centre (0, 0) radius 3.5 projected
  circle A1 centre (0, 0) radius 3.5
  circle A2 centre (16, 0) radius 2.25 projected
  circle A3 centre (16, 0) radius 3.5
  circle A4 centre (0, -32) radius 2.25 projected
  circle A5 centre (0, -32) radius 3.5
  circle A6 centre (16, -32) radius 2.25 projected
  circle A7 centre (16, -32) radius 3.5
  point P0 (-130, -8)
extrude "Extrusão20" cut sketch "Esboço23" against normal blind 3.5 contours A0 | A2 | A3 | A4 | A5 | A6 | A7
sketch "Esboço24" plane through (58, 1.5, -6) normal (0, 1, 0) x (1, 0, 0)
  circle A0 centre (-51, 0) radius 2.25 projected
  circle A1 centre (-51, 0) radius 2.25
  circle A2 centre (-51, 22) radius 2.25 projected
  circle A3 centre (-51, 22) radius 2.25
  circle A4 centre (-0.0001, 22) radius 2.2501
  circle A5 centre (-51, 0) radius 2.25
  point P0 (-58, -6)
sketch "Esboço25" plane through (0, 0, 0) normal (0, -1, 0) x (1, 0, 0)
  circle A0 centre (7, -28) radius 2.25 projected
  circle A1 centre (7, -28) radius 2.25
  circle A2 centre (7, -6) radius 2.25 projected
  circle A3 centre (7, -6) radius 2.25
  circle A4 centre (58, -6) radius 2.25 projected
  circle A5 centre (58, -6) radius 2.25
  circle A6 centre (58, -28) radius 2.25 projected
  circle A7 centre (58, -28) radius 2.25
  point P0 (0, 0)
extrude "Extrusão21" cut sketch "Esboço25" against normal blind 0.5
sketch "Esboço26" plane through (7, 0.5, -6) normal (0, -1, 0) x (1, 0, 0)
  line L0 (0.3, 0.3) -> (0.3, 1.6) projected
  line L1 (0.3, 0.3) -> (0.3, 1.6)
  line L2 (-0.3, 1.6) -> (-0.3, 0.3) projected
  line L3 (0.3, 1.6) -> (-0.3, 1.6)
  line L4 (-0.3, 0.3) -> (-1.6, 0.3) projected
  line L5 (-0.3, 1.6) -> (-0.3, 0.3)
  line L6 (-0.3, 0.3) -> (-1.6, 0.3)
  line L7 (-1.6, 0.3) -> (-1.6, -0.3) projected
  line L8 (-1.6, 0.3) -> (-1.6, -0.3)
  line L9 (-0.3, -0.3) -> (-0.3, -1.6) projected
  line L10 (-1.6, -0.3) -> (-0.3, -0.3)
  line L11 (-0.3, -0.3) -> (-0.3, -1.6)
  line L12 (-0.3, -1.6) -> (0.3, -1.6)
  line L13 (0.3, -1.6) -> (0.3, -0.3)
  line L14 (1.6, -0.3) -> (1.6, 0.3) projected
  line L15 (0.3, -0.3) -> (1.6, -0.3)
  line L16 (1.6, -0.3) -> (1.6, 0.3)
  line L17 (1.6, 0.3) -> (0.3, 0.3) projected
  line L18 (1.6, 0.3) -> (0.3, 0.3)
  line L19 (-7, -26) -> (-7, 4) projected
  line L20 (-7, -11) -> (-0.6062, -11)
  line L21 (0, 0) -> (25.5, 0)
  line L22 (25.5, 0) -> (25.5, 6)
  line L23 (-5, 6) -> (55.5, 6) projected
  line L24 (0.3, -22.3) -> (0.3, -23.6)
  line L25 (0.3, -22.3) -> (0.3, -23.6)
  line L26 (-0.3, -23.6) -> (-0.3, -22.3)
  line L27 (0.3, -23.6) -> (-0.3, -23.6)
  line L28 (-0.3, -22.3) -> (-1.6, -22.3)
  line L29 (-0.3, -23.6) -> (-0.3, -22.3)
  line L30 (-0.3, -22.3) -> (-1.6, -22.3)
  line L31 (-1.6, -22.3) -> (-1.6, -21.7)
  line L32 (-1.6, -22.3) -> (-1.6, -21.7)
  line L33 (-0.3, -21.7) -> (-0.3, -20.4)
  line L34 (-1.6, -21.7) -> (-0.3, -21.7)
  line L35 (-0.3, -21.7) -> (-0.3, -20.4)
  line L36 (-0.3, -20.4) -> (0.3, -20.4)
  line L37 (0.3, -20.4) -> (0.3, -21.7)
  line L38 (1.6, -21.7) -> (1.6, -22.3)
  line L39 (0.3, -21.7) -> (1.6, -21.7)
  line L40 (1.6, -21.7) -> (1.6, -22.3)
  line L41 (1.6, -22.3) -> (0.3, -22.3)
  line L42 (1.6, -22.3) -> (0.3, -22.3)
  line L43 (50.7, 0.3) -> (50.7, 1.6)
  line L44 (50.7, 0.3) -> (50.7, 1.6)
  line L45 (51.3, 1.6) -> (51.3, 0.3)
  line L46 (50.7, 1.6) -> (51.3, 1.6)
  line L47 (51.3, 0.3) -> (52.6, 0.3)
  line L48 (51.3, 1.6) -> (51.3, 0.3)
  line L49 (51.3, 0.3) -> (52.6, 0.3)
  line L50 (52.6, 0.3) -> (52.6, -0.3)
  line L51 (52.6, 0.3) -> (52.6, -0.3)
  line L52 (51.3, -0.3) -> (51.3, -1.6)
  line L53 (52.6, -0.3) -> (51.3, -0.3)
  line L54 (51.3, -0.3) -> (51.3, -1.6)
  line L55 (51.3, -1.6) -> (50.7, -1.6)
  line L56 (50.7, -1.6) -> (50.7, -0.3)
  line L57 (49.4, -0.3) -> (49.4, 0.3)
  line L58 (50.7, -0.3) -> (49.4, -0.3)
  line L59 (49.4, -0.3) -> (49.4, 0.3)
  line L60 (49.4, 0.3) -> (50.7, 0.3)
  line L61 (49.4, 0.3) -> (50.7, 0.3)
  line L62 (50.7, -22.3) -> (50.7, -23.6)
  line L63 (50.7, -22.3) -> (50.7, -23.6)
  line L64 (51.3, -23.6) -> (51.3, -22.3)
  line L65 (50.7, -23.6) -> (51.3, -23.6)
  line L66 (51.3, -22.3) -> (52.6, -22.3)
  line L67 (51.3, -23.6) -> (51.3, -22.3)
  line L68 (51.3, -22.3) -> (52.6, -22.3)
  line L69 (49.4, -21.7) -> (49.4, -22.3)
  line L70 (50.7, -21.7) -> (49.4, -21.7)
  line L71 (49.4, -21.7) -> (49.4, -22.3)
  line L72 (49.4, -22.3) -> (50.7, -22.3)
  line L73 (49.4, -22.3) -> (50.7, -22.3)
  line L74 (52.6, -22.3) -> (52.6, -21.7)
  line L75 (52.6, -21.7) -> (51.3, -21.7)
  line L76 (51.3, -20.4) -> (50.7, -20.4)
  line L77 (50.7, -20.4) -> (50.7, -21.7)
  line L78 (51.3, -21.7) -> (51.3, -20.4)
  line L79 (51.3, -21.7) -> (51.3, -20.4)
  line L80 (52.6, -22.3) -> (52.6, -21.7)
  point P0 (-7, 6)
  point P1 (0, -22)
  point P2 (51.6062, -11)
  point P3 (51, 0)
  point P4 (51, -22)
  dimension "d134" = 25.5
extrude "Extrusão22" add sketch "Esboço26" along normal blind 0.5
sketch "Esboço27" plane through (130, -1, -8) normal (0, -1, 0) x (1, 0, 0)
  circle A0 centre (0, 0) radius 2.25
  circle A1 centre (16, 0) radius 3.5 projected
  circle A2 centre (16, 0) radius 2.25
  circle A3 centre (16, 32) radius 3.5 projected
  circle A4 centre (16, 32) radius 2.25
  circle A5 centre (0, 32) radius 3.5 projected
  circle A6 centre (0, 32) radius 2.25
  point P0 (-130, 8)
  dimension "d137" = 4.5
  dimension "d138" = 4.5
  dimension "d139" = 4.5
  dimension "d140" = 4.5
extrude "Extrusão23" add sketch "Esboço27" along normal blind 2.5 contours A0 | A2 | A4 | A6
sketch "Esboço28" plane through (130, -3.5, 24) normal (0, -1, 0) x (1, 0, 0)
  circle A0 centre (0, 0) radius 2.25 projected
  line L0 (0, -1.4971) -> (-1.2965, -0.7485)
  line L1 (-1.2965, -0.7485) -> (-1.2965, 0.7485)
  line L2 (-1.2965, 0.7485) -> (0, 1.4971)
  line L3 (0, 1.4971) -> (1.2965, 0.7485)
  line L4 (1.2965, 0.7485) -> (1.2965, -0.7485)
  line L5 (1.2965, -0.7485) -> (0, -1.4971)
  line L6 (0, 0) -> (8, 0)
  line L7 (8, 0) -> (8, 7)
  line L8 (-5.048, 7) -> (28, 7) projected
  circle A1 centre (16, 0) radius 2.25 projected
  line L9 (16, 0) -> (16, -16)
  line L10 (16, -16) -> (30, -16)
  line L11 (30, 5) -> (30, -56) projected
  line L12 (16, -1.4971) -> (17.2965, -0.7485)
  line L13 (17.2965, -0.7485) -> (17.2965, 0.7485)
  line L14 (17.2965, 0.7485) -> (16, 1.4971)
  line L15 (16, 1.4971) -> (14.7035, 0.7485)
  line L16 (14.7035, 0.7485) -> (14.7035, -0.7485)
  line L17 (14.7035, -0.7485) -> (16, -1.4971)
  line L18 (0, -30.5029) -> (-1.2965, -31.2515)
  line L19 (-1.2965, -31.2515) -> (-1.2965, -32.7485)
  line L20 (-1.2965, -32.7485) -> (0, -33.4971)
  line L21 (0, -33.4971) -> (1.2965, -32.7485)
  line L22 (1.2965, -32.7485) -> (1.2965, -31.2515)
  line L23 (1.2965, -31.2515) -> (0, -30.5029)
  line L24 (17.2965, -32.7485) -> (16, -33.4971)
  line L25 (16, -33.4971) -> (14.7035, -32.7485)
  line L26 (14.7035, -32.7485) -> (14.7035, -31.2515)
  line L27 (14.7035, -31.2515) -> (16, -30.5029)
  line L28 (16, -30.5029) -> (17.2965, -31.2515)
  line L29 (17.2965, -31.2515) -> (17.2965, -32.7485)
  point P0 (-130, -24)
  dimension "d143" = 8
  dimension "d144" = 16
extrude "Extrusão24" cut sketch "Esboço28" against normal blind 1.5 contours L4 L5 L0 L1 L2 L3 | L17 L16 L15 L14 L13 L12 | L23 L22 L21 L20 L19 L18 | L24 L25 L26 L27 L28 L29
sketch "Esboço29" plane through (58, 1.5, -6) normal (0, 1, 0) x (1, 0, 0)
  circle A0 centre (0, 0) radius 2.25 projected
  circle A1 centre (0, 0) radius 2.25
  circle A2 centre (0, 0) radius 2.25 projected
  circle A3 centre (0, 0) radius 2.25
  line L0 (-55.513, -3.9178) -> (4.5882, -3.9178)
  line L1 (4.5882, -3.9178) -> (4.5882, 26.4667)
  line L2 (4.5882, 26.4667) -> (-55.513, 26.4667)
  line L3 (-55.513, 26.4667) -> (-55.513, -3.9178)
  point P0 (-58, -6)
extrude "Extrusão25" cut sketch "Esboço29" against normal blind 0.5
sketch "Esboço30" plane through (2, 0, 0) normal (0, 0, 1) x (1, 0, 0)
  line L0 (-2, 1) -> (0, 1) projected
  line L1 (-2, 1) -> (59.7801, 1)
  line L2 (59.7801, 1) -> (59.7801, 7.8458)
  line L3 (59.7801, 7.8458) -> (-2, 7.8458)
  line L4 (-2, 7.8458) -> (-2, 1)
  point P0 (-2, 0)
extrude "Extrusão26" cut sketch "Esboço30" against normal blind 500
properties part number "chapa_carbono_lateral_oposto"
